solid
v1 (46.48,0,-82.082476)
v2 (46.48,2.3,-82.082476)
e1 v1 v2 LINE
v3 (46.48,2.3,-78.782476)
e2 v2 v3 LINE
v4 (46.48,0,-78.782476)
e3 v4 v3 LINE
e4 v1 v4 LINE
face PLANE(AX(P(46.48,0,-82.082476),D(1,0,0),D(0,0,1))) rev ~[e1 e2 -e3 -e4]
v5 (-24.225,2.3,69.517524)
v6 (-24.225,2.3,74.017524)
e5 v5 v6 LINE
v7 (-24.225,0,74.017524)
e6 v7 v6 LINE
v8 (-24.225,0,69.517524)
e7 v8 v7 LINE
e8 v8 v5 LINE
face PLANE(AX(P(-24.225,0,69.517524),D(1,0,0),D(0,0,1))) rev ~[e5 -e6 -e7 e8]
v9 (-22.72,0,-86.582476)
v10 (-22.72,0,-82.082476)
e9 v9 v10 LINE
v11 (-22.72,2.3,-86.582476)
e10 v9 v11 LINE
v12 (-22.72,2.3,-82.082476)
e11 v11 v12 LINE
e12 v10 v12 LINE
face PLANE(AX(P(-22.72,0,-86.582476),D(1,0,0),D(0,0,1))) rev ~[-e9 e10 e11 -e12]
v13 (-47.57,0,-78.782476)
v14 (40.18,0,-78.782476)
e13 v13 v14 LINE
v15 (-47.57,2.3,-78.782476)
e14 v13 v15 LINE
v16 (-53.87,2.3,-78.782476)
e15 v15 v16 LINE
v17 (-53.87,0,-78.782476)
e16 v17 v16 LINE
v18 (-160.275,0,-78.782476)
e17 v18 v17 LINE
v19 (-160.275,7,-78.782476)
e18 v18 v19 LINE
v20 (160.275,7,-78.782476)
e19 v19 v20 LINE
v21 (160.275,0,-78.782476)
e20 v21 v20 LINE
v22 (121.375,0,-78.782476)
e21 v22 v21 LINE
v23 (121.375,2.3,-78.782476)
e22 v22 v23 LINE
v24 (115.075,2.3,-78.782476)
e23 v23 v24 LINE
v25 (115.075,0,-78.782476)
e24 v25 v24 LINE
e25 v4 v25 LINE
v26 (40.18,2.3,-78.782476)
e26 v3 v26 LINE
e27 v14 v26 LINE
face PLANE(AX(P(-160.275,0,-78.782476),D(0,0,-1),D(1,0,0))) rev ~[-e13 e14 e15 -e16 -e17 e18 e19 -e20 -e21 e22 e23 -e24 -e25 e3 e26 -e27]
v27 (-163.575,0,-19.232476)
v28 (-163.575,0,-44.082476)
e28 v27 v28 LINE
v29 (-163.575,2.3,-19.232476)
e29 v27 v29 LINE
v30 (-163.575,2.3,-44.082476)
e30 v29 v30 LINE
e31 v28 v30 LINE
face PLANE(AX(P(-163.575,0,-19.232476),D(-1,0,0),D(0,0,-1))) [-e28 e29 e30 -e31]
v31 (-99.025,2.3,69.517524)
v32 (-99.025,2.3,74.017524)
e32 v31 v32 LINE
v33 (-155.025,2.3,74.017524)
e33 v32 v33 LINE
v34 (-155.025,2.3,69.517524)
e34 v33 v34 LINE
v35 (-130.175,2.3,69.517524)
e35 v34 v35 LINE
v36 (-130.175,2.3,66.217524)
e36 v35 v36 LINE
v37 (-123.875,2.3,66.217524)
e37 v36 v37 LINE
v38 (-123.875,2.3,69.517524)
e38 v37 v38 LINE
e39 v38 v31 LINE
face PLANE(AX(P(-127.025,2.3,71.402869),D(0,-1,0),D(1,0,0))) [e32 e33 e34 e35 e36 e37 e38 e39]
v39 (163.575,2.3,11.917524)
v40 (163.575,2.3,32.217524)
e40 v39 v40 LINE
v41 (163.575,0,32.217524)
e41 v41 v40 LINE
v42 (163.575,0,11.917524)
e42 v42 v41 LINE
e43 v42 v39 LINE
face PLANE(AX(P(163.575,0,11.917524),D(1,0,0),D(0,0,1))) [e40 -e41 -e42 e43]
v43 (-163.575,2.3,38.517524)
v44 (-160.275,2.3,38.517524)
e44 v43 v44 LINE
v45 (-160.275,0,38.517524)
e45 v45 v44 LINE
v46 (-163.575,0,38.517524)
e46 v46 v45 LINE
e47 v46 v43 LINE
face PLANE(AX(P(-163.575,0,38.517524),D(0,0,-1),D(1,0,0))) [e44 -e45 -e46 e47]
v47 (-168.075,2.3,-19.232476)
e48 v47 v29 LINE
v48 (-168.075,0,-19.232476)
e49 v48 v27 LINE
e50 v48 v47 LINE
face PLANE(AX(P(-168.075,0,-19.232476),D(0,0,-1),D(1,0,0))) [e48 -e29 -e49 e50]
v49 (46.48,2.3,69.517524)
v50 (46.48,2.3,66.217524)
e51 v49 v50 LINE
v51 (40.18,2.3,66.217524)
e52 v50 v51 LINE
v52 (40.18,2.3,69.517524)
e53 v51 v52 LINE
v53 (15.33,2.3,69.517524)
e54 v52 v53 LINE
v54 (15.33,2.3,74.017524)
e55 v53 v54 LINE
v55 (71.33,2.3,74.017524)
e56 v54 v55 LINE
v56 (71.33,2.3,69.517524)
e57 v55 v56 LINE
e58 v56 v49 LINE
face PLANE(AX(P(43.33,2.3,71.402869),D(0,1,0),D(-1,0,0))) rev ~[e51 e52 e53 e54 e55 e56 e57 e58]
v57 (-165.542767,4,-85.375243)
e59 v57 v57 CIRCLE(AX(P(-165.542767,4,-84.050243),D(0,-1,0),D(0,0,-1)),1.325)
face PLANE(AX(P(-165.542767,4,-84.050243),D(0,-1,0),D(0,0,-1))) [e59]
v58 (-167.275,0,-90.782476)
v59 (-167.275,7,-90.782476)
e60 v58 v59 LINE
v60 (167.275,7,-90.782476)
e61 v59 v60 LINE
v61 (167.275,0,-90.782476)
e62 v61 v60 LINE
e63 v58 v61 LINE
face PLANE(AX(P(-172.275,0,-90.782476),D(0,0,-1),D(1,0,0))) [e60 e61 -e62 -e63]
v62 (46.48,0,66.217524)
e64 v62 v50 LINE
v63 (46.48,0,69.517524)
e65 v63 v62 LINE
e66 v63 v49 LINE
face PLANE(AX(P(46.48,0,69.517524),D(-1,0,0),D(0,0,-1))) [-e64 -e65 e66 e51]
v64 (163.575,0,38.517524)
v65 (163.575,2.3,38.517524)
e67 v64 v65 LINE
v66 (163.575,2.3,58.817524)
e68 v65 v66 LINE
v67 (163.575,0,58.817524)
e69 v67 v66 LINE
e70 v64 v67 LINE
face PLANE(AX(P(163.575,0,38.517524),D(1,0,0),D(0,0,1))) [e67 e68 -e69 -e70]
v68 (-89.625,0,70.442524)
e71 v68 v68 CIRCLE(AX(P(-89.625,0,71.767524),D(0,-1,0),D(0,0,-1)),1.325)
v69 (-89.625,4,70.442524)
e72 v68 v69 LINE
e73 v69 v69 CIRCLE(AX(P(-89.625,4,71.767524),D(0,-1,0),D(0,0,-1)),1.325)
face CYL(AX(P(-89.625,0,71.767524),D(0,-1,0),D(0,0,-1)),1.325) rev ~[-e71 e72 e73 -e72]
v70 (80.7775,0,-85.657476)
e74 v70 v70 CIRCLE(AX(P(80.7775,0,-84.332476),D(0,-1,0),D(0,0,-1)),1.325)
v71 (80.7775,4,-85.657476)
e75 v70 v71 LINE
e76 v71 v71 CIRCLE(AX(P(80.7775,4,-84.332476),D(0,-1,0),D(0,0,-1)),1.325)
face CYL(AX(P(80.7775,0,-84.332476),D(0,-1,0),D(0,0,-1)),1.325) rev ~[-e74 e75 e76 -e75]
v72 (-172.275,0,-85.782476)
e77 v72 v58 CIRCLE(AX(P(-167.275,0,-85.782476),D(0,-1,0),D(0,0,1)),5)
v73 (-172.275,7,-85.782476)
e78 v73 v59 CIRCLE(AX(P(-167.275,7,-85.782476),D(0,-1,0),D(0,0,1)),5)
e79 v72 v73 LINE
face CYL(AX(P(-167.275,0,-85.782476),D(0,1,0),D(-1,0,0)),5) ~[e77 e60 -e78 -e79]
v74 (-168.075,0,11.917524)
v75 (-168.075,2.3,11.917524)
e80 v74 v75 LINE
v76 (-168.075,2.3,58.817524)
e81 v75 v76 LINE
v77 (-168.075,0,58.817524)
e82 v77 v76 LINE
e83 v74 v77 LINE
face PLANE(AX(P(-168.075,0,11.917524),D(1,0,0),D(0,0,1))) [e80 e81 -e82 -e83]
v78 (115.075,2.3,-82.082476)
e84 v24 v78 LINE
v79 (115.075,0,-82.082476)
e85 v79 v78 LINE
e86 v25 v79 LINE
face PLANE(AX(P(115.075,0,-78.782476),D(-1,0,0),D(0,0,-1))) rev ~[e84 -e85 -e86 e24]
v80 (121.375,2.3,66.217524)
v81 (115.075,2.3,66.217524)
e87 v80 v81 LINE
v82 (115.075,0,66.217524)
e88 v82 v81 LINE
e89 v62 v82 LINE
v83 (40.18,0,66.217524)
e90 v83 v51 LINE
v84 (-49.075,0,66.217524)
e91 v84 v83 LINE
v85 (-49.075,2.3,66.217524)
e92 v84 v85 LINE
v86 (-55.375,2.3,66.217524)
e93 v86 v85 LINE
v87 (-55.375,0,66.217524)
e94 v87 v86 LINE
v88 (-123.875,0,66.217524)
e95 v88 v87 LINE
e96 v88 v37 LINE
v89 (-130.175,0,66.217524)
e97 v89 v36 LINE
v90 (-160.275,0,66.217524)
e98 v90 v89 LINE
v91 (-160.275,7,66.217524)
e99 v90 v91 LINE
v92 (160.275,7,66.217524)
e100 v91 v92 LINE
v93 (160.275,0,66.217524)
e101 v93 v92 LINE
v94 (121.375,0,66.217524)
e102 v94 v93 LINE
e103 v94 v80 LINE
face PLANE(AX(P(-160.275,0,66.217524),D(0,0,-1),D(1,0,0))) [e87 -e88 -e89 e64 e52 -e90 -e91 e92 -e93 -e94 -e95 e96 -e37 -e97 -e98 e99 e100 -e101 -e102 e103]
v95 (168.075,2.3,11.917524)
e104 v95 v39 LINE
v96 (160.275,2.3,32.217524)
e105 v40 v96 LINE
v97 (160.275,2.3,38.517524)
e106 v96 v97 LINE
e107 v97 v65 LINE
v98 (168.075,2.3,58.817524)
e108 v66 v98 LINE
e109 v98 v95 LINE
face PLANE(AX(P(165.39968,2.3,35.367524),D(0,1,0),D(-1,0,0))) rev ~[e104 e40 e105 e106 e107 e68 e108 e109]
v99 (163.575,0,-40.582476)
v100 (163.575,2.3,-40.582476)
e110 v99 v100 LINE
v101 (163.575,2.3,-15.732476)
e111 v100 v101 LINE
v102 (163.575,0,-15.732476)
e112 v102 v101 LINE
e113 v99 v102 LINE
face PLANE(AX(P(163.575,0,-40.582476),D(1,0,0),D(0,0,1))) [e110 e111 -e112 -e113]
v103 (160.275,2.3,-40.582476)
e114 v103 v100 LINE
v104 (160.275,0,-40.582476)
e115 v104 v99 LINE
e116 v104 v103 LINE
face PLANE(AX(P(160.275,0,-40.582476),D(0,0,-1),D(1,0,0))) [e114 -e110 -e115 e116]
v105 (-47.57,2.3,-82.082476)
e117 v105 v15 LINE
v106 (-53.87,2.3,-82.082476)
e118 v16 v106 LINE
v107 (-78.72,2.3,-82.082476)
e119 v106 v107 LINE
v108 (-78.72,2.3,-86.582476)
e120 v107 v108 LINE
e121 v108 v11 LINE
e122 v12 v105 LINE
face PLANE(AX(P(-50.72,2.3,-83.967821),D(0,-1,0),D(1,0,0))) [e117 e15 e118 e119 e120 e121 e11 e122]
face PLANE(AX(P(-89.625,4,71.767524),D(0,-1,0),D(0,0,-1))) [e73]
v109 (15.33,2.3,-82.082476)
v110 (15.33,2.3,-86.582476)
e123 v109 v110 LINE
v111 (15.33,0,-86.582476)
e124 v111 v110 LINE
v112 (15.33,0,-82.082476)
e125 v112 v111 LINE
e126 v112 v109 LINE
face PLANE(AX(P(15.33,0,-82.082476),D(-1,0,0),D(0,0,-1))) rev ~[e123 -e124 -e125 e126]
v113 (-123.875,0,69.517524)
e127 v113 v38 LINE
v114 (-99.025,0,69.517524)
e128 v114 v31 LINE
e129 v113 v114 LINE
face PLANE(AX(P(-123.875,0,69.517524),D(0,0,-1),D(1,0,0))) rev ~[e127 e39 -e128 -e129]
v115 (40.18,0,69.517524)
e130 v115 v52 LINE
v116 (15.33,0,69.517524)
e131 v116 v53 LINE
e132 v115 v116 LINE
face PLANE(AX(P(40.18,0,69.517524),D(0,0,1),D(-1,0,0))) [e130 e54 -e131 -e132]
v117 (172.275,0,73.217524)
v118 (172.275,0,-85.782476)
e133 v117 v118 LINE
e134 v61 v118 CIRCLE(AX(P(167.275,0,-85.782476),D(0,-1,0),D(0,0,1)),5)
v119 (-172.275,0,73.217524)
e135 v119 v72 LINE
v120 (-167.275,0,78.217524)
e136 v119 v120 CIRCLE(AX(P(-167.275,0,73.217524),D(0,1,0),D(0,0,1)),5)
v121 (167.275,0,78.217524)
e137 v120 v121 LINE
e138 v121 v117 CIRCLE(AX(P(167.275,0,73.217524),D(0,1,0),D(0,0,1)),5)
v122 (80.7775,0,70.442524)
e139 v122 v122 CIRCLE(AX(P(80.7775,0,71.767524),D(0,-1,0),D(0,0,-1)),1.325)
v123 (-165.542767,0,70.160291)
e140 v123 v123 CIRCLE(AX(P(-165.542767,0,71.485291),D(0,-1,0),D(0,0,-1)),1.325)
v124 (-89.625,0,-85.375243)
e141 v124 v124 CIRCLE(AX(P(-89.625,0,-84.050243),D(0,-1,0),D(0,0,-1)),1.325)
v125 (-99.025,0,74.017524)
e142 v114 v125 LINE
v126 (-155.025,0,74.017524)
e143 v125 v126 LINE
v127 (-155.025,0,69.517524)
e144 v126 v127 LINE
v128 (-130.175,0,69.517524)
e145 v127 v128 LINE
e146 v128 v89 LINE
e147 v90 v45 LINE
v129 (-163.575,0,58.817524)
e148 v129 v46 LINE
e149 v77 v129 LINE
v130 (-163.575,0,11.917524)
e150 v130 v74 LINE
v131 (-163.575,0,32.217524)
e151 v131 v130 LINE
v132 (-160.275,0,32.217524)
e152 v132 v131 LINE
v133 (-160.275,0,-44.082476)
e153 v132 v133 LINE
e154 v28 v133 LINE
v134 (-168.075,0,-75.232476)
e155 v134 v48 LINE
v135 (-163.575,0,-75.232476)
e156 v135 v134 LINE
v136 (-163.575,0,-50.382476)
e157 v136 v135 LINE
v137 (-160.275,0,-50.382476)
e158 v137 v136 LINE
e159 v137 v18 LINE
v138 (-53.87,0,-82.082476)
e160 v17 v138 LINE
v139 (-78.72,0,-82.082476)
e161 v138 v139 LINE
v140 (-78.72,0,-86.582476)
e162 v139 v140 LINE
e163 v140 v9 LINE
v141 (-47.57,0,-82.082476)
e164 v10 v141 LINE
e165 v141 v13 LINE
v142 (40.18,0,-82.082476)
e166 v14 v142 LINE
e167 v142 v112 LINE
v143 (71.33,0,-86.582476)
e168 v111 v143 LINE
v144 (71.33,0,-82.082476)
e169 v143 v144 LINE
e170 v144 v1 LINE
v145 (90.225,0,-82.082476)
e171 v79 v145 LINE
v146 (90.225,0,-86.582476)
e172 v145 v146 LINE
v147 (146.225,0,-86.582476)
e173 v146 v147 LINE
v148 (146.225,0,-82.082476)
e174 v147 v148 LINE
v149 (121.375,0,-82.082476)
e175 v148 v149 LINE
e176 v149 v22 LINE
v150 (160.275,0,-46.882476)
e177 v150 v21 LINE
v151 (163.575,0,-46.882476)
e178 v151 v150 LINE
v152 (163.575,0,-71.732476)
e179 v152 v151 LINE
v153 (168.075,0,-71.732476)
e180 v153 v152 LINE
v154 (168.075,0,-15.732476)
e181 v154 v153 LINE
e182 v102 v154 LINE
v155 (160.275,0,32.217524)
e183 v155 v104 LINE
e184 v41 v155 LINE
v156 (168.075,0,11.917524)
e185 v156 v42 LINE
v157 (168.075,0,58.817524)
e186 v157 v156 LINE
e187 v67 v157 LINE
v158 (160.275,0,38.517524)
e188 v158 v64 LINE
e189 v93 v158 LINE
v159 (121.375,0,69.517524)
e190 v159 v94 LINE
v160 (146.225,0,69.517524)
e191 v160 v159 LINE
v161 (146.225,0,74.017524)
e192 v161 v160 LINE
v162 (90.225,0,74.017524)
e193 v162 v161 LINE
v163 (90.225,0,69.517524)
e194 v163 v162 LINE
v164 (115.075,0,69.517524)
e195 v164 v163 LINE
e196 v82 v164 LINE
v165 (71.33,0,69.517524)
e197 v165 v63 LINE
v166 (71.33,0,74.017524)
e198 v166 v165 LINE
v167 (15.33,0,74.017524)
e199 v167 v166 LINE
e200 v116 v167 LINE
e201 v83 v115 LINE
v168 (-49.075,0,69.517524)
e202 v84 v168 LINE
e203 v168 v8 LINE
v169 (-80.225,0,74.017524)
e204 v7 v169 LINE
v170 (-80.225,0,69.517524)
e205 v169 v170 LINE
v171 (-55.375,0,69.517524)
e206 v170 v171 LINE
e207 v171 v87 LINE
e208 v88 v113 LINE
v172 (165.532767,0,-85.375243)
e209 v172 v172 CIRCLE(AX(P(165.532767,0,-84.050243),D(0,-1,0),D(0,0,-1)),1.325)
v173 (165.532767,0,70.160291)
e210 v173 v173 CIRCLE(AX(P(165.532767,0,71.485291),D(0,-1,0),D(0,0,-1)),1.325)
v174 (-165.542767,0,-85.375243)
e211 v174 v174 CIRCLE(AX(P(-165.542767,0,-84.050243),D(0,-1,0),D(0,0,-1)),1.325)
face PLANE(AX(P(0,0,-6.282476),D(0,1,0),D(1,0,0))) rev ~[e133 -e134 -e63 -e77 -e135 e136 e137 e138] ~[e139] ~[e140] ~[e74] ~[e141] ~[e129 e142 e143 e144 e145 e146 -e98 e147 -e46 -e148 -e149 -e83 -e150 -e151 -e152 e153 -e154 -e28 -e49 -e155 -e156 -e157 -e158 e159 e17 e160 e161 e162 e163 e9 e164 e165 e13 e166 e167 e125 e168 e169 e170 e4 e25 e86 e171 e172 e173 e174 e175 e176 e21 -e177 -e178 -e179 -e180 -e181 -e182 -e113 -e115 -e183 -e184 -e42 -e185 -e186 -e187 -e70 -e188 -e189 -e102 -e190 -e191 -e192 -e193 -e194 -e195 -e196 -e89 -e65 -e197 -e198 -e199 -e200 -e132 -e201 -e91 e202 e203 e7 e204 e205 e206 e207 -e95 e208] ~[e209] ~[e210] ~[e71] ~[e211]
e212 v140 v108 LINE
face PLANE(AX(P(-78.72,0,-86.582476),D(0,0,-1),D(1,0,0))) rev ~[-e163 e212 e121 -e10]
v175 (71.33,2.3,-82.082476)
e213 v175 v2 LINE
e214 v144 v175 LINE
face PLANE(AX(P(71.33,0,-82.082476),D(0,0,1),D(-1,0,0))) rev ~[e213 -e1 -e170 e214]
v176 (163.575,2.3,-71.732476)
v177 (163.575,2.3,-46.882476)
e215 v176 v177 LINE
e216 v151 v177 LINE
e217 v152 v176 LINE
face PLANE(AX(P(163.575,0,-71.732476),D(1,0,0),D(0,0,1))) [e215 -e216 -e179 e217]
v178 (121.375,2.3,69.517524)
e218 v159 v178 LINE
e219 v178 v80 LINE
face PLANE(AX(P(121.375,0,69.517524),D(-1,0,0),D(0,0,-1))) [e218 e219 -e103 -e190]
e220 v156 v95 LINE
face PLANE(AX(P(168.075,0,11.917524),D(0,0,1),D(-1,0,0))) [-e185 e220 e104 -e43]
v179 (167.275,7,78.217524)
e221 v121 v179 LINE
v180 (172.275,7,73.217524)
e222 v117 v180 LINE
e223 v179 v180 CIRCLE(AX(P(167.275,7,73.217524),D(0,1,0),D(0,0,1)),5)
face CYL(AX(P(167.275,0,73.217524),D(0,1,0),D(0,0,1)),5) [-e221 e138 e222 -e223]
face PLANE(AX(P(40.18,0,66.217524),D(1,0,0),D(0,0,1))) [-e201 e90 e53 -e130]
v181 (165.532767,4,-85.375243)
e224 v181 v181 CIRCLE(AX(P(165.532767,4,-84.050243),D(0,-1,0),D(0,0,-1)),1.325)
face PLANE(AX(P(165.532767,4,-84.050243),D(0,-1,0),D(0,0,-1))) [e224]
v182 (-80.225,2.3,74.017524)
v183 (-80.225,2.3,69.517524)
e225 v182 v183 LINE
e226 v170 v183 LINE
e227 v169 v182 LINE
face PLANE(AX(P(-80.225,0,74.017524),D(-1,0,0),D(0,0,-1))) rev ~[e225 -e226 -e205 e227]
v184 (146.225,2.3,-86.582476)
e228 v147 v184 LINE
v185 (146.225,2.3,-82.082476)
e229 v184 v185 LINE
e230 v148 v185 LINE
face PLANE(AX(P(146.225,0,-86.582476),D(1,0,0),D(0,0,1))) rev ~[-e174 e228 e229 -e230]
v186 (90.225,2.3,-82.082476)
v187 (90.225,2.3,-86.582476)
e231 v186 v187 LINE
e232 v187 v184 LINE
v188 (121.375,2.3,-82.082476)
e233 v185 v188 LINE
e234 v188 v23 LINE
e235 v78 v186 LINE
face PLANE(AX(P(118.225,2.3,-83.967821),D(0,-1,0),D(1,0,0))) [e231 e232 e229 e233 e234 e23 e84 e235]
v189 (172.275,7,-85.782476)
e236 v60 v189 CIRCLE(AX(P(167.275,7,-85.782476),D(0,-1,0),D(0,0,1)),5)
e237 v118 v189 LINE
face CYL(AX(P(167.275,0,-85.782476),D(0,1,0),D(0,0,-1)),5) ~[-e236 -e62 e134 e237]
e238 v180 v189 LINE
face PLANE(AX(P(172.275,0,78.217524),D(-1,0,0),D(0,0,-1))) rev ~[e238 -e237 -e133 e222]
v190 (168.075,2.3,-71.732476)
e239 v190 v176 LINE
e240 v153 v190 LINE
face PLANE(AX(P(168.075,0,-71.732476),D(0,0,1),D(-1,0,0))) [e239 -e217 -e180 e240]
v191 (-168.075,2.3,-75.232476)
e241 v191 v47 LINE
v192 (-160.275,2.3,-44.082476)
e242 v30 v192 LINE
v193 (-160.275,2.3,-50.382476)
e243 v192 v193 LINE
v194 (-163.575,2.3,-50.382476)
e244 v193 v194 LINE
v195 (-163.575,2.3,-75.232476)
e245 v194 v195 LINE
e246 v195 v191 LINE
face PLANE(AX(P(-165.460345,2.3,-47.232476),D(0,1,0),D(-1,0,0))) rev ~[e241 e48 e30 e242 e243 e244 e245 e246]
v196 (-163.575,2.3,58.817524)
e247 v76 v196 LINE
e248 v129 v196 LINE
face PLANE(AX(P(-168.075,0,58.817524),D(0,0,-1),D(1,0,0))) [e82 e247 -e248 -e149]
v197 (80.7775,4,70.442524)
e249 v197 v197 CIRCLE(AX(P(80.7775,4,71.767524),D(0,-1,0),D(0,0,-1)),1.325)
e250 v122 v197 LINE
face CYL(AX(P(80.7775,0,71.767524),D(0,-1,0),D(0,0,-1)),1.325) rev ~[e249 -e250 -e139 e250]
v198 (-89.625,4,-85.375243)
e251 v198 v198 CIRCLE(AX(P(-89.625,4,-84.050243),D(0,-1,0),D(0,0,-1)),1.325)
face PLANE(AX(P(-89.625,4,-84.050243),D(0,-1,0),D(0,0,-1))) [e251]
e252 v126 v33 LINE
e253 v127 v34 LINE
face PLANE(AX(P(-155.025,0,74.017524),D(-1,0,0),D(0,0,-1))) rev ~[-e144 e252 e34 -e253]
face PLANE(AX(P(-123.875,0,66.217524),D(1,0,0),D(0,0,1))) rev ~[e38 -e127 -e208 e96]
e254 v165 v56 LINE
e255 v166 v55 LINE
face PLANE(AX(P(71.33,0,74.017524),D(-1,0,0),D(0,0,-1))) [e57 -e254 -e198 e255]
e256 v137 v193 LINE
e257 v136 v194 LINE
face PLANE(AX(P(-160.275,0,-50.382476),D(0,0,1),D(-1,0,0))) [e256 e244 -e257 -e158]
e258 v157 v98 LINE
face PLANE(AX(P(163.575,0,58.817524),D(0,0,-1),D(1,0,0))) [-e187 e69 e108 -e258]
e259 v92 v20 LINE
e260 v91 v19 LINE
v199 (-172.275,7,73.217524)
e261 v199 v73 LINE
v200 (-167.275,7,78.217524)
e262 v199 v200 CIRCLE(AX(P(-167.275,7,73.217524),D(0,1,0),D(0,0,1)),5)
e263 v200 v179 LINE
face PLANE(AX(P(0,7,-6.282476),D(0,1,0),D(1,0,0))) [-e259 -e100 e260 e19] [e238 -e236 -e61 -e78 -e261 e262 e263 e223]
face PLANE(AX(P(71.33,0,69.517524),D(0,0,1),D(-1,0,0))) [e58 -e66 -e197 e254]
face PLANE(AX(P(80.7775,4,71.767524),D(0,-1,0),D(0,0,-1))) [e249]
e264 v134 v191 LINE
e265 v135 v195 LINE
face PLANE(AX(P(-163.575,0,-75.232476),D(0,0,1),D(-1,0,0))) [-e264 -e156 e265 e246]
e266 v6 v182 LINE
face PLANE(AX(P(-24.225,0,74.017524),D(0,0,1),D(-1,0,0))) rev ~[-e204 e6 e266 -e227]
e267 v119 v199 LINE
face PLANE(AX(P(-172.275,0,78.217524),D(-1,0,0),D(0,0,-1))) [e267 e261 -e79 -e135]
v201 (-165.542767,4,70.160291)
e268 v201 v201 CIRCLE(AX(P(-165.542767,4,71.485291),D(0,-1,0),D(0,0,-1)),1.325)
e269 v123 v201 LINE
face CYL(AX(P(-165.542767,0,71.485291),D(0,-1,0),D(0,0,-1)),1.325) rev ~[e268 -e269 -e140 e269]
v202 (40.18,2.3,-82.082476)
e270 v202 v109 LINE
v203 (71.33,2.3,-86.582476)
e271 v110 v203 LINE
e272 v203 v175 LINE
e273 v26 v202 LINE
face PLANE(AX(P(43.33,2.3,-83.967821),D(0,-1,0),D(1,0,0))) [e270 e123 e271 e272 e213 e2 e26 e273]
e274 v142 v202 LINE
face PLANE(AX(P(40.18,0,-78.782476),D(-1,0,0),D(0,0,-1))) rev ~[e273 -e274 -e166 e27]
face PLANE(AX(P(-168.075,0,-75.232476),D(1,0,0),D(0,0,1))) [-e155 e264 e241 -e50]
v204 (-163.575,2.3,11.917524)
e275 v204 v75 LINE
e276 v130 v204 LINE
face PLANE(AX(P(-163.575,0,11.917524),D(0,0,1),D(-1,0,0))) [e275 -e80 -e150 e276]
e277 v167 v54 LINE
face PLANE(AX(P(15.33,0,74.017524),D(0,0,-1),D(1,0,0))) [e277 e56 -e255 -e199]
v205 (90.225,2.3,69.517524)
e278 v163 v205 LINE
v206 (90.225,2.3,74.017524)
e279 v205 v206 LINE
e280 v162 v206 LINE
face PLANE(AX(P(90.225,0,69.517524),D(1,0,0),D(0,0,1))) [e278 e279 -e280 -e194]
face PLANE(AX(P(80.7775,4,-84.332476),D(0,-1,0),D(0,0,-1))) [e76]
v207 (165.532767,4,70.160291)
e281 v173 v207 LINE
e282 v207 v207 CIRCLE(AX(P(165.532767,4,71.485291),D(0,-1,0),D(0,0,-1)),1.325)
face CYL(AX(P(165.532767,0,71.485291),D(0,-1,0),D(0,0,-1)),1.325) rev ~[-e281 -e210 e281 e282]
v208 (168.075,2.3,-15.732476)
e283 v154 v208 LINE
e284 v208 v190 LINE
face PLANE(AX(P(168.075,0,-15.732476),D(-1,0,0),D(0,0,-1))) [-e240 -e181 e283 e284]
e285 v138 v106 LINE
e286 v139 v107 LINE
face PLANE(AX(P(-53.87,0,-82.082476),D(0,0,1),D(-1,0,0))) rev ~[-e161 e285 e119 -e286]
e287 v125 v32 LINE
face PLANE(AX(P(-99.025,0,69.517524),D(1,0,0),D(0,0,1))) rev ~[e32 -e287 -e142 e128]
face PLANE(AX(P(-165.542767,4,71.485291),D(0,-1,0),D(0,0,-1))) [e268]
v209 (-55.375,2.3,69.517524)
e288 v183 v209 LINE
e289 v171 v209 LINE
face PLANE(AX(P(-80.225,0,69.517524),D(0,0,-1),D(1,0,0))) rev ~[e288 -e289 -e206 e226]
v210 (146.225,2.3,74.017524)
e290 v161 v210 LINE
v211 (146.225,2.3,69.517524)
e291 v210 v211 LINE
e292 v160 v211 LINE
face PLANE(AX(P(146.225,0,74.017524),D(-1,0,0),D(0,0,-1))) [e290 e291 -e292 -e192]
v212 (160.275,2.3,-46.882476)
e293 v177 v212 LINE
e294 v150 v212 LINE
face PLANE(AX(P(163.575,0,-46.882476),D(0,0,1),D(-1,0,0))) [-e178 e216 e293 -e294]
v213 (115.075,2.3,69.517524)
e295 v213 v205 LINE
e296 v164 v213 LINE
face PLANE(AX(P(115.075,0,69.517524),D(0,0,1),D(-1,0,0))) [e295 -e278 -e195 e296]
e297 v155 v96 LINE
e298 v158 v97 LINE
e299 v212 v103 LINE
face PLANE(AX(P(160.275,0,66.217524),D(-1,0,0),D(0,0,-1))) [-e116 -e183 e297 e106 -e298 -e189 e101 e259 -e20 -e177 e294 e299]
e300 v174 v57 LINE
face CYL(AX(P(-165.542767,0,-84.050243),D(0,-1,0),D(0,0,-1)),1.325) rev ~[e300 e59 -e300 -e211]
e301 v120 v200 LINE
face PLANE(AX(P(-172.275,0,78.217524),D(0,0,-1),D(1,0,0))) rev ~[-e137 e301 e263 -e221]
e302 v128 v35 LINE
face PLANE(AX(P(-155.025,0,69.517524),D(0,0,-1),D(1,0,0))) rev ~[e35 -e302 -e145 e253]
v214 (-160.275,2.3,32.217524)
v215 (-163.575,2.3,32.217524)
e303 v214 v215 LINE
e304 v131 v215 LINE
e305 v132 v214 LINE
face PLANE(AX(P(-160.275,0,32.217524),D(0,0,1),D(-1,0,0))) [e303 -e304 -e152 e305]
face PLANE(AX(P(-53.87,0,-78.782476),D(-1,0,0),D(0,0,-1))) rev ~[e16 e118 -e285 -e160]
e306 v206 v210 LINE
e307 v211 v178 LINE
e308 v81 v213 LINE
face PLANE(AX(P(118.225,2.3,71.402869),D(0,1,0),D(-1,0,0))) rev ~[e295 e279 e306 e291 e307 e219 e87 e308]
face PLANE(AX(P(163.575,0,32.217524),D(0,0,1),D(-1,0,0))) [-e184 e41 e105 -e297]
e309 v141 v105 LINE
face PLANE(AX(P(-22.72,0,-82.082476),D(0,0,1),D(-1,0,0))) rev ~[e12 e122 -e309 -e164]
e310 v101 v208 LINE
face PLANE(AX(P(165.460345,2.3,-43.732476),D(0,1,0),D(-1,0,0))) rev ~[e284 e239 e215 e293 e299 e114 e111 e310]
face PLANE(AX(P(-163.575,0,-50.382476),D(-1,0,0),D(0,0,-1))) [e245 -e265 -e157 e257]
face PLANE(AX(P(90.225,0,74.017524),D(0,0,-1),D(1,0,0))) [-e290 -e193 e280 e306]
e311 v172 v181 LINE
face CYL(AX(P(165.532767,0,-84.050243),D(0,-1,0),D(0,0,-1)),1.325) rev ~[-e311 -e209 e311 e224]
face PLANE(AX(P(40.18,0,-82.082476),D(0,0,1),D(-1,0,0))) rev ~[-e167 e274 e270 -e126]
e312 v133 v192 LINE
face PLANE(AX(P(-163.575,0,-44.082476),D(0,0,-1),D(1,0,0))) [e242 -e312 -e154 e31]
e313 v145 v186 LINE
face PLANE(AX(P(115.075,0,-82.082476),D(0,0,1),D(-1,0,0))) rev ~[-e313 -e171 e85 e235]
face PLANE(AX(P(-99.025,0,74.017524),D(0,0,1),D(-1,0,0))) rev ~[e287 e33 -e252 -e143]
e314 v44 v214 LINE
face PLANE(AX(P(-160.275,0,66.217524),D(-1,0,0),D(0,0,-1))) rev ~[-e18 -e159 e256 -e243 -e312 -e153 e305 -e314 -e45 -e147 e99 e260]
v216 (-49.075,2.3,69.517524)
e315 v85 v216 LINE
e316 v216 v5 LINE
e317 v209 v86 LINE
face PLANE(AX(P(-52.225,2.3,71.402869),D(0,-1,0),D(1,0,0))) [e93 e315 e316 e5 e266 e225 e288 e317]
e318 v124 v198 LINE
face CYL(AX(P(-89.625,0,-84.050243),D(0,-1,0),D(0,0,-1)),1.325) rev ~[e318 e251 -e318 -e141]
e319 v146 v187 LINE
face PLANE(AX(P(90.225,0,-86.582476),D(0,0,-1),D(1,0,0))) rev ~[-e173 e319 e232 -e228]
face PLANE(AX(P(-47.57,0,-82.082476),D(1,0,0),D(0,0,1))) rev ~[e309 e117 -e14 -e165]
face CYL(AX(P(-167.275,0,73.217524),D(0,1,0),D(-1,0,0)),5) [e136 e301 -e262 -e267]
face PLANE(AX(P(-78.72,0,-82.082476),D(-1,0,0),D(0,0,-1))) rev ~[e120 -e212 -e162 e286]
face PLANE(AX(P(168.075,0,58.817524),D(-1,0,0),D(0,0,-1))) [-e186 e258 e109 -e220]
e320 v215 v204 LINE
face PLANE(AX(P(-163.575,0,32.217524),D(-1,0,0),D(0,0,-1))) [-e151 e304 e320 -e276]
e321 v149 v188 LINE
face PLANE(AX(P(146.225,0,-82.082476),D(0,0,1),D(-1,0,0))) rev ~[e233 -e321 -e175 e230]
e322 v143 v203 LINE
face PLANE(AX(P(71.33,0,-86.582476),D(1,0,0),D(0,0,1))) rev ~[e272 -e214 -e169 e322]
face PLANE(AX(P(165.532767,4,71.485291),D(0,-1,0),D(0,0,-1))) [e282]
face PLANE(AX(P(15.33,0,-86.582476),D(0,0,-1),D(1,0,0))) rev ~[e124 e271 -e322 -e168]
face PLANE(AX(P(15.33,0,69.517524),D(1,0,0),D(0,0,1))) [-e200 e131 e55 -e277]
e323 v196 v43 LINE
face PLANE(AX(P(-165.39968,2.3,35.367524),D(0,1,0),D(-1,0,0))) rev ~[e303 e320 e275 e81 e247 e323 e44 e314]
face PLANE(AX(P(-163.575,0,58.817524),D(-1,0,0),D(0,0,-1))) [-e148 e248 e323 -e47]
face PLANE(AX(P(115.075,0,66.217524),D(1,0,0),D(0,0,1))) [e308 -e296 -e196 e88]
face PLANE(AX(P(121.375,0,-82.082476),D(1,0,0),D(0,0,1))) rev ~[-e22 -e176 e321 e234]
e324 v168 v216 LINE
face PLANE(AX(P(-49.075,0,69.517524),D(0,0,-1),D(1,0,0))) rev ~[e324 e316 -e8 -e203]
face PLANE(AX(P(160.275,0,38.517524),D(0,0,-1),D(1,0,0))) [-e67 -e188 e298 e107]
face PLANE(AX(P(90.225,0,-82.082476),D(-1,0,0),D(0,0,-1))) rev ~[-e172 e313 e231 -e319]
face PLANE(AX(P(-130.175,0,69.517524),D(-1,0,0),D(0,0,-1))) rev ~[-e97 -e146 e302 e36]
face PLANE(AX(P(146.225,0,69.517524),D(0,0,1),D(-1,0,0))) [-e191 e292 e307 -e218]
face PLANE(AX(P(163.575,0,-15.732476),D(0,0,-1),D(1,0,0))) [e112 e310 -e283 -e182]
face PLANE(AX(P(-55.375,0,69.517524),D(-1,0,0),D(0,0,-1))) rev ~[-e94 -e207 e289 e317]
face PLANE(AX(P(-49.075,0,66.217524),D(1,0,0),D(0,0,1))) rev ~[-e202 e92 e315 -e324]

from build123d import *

# Parameters (mm, degrees)
SKETCH1_W           = 344.55
SKETCH1_H           = 169
SKETCH1_W_2         = 320.55
SKETCH1_H_2         = 145
BOSS_EXTRUDE1_DEPTH = 7
FILLET1_R           = 5
FILLET2_R           = 5
FILLET3_R           = 5
CUT_EXTRUDE2_DEPTH  = 2.3
FILLET5_R           = 5
SKETCH4_R           = 1.325
CUT_EXTRUDE3_DEPTH  = 4


with BuildPart() as part:
    # Sketch1 → Boss-Extrude1 (new body)
    with BuildSketch(Plane(origin=(0, 0, 0), x_dir=(1, 0, 0), z_dir=(0, 1, 0))):
        with Locations((0, 6.282475928)):
            Rectangle(SKETCH1_W, SKETCH1_H)
        with Locations((0, 6.282475928)):
            Rectangle(SKETCH1_W_2, SKETCH1_H_2, mode=Mode.SUBTRACT)
    extrude(amount=BOSS_EXTRUDE1_DEPTH)

    # Fillet1
    fillet1_edges = [part.edges().sort_by_distance(p)[0] for p in [
        (172.275, 3.5, 78.217524072),
    ]]
    fillet(fillet1_edges, radius=FILLET1_R)

    # Fillet2
    fillet2_edges = [part.edges().sort_by_distance(p)[0] for p in [
        (-172.275, 3.5, -90.782475928),
    ]]
    fillet(fillet2_edges, radius=FILLET2_R)

    # Fillet3
    fillet3_edges = [part.edges().sort_by_distance(p)[0] for p in [
        (-172.275, 3.5, 78.217524072),
    ]]
    fillet(fillet3_edges, radius=FILLET3_R)

    # Sketch3 → Cut-Extrude2 (cut)
    with BuildSketch(Plane.XZ):
        Polygon((-22.72, -82.082475928), (-47.57, -82.082475928), (-47.57, -78.782475928), (-53.87, -78.782475928), (-53.87, -82.082475928), (-78.72, -82.082475928), (-78.72, -86.582475928), (-22.72, -86.582475928), align=None)
        Polygon((-130.175, 66.217524072), (-123.875, 66.217524072), (-123.875, 69.517524072), (-99.025, 69.517524072), (-99.025, 74.017524072), (-155.025, 74.017524072), (-155.025, 69.517524072), (-130.175, 69.517524072), align=None)
        Polygon((146.225, -82.082475928), (121.375, -82.082475928), (121.375, -78.782475928), (115.075, -78.782475928), (115.075, -82.082475928), (90.225, -82.082475928), (90.225, -86.582475928), (146.225, -86.582475928), align=None)
        Polygon((71.33, -86.582475928), (71.33, -82.082475928), (46.48, -82.082475928), (46.48, -78.782475928), (40.18, -78.782475928), (40.18, -82.082475928), (15.33, -82.082475928), (15.33, -86.582475928), align=None)
        Polygon((-160.275, -44.082475928), (-160.275, -50.382475928), (-163.575, -50.382475928), (-163.575, -75.232475928), (-168.075, -75.232475928), (-168.075, -19.232475928), (-163.575, -19.232475928), (-163.575, -44.082475928), align=None)
        Polygon((163.575, 11.917524072), (163.575, 32.217524072), (160.275, 32.217524072), (160.275, 38.517524072), (163.575, 38.517524072), (163.575, 58.817524072), (168.075, 58.817524072), (168.075, 11.917524072), align=None)
        Polygon((160.275, -40.582475928), (163.575, -40.582475928), (163.575, -15.732475928), (168.075, -15.732475928), (168.075, -71.732475928), (163.575, -71.732475928), (163.575, -46.882475928), (160.275, -46.882475928), align=None)
        Polygon((146.225, 74.017524072), (146.225, 69.517524072), (121.375, 69.517524072), (121.375, 66.217524072), (115.075, 66.217524072), (115.075, 69.517524072), (90.225, 69.517524072), (90.225, 74.017524072), align=None)
        Polygon((15.33, 74.017524072), (71.33, 74.017524072), (71.33, 69.517524072), (46.48, 69.517524072), (46.48, 66.217524072), (40.18, 66.217524072), (40.18, 69.517524072), (15.33, 69.517524072), align=None)
        Polygon((-160.275, 38.517524072), (-160.275, 32.217524072), (-163.575, 32.217524072), (-163.575, 11.917524072), (-168.075, 11.917524072), (-168.075, 58.817524072), (-163.575, 58.817524072), (-163.575, 38.517524072), align=None)
        Polygon((-55.375, 66.217524072), (-49.075, 66.217524072), (-49.075, 69.517524072), (-24.225, 69.517524072), (-24.225, 74.017524072), (-80.225, 74.017524072), (-80.225, 69.517524072), (-55.375, 69.517524072), align=None)
    extrude(amount=-CUT_EXTRUDE2_DEPTH, mode=Mode.SUBTRACT)

    # Fillet5
    fillet5_edges = [part.edges().sort_by_distance(p)[0] for p in [
        (172.275, 3.5, -90.782475928),
    ]]
    fillet(fillet5_edges, radius=FILLET5_R)

    # Sketch4 → Cut-Extrude3 (cut)
    with BuildSketch(Plane.XZ):
        with Locations(Location((-165.542766953, 71.485291024, 0), (0, 0, 270))):
            Circle(SKETCH4_R)
        with Locations(Location((-89.625, 71.767524072, 0), (0, 0, 270))):
            Circle(SKETCH4_R)
        with Locations(Location((80.7775, 71.767524072, 0), (0, 0, 270))):
            Circle(SKETCH4_R)
        with Locations(Location((165.532766953, 71.485291024, 0), (0, 0, 270))):
            Circle(SKETCH4_R)
        with Locations(Location((165.532766953, -84.050242881, 0), (0, 0, 270))):
            Circle(SKETCH4_R)
        with Locations(Location((80.7775, -84.332475928, 0), (0, 0, 270))):
            Circle(SKETCH4_R)
        with Locations(Location((-89.625, -84.050242881, 0), (0, 0, 270))):
            Circle(SKETCH4_R)
        with Locations(Location((-165.542766953, -84.050242881, 0), (0, 0, 270))):
            Circle(SKETCH4_R)
    extrude(amount=-CUT_EXTRUDE3_DEPTH, mode=Mode.SUBTRACT)


solid = part.part
